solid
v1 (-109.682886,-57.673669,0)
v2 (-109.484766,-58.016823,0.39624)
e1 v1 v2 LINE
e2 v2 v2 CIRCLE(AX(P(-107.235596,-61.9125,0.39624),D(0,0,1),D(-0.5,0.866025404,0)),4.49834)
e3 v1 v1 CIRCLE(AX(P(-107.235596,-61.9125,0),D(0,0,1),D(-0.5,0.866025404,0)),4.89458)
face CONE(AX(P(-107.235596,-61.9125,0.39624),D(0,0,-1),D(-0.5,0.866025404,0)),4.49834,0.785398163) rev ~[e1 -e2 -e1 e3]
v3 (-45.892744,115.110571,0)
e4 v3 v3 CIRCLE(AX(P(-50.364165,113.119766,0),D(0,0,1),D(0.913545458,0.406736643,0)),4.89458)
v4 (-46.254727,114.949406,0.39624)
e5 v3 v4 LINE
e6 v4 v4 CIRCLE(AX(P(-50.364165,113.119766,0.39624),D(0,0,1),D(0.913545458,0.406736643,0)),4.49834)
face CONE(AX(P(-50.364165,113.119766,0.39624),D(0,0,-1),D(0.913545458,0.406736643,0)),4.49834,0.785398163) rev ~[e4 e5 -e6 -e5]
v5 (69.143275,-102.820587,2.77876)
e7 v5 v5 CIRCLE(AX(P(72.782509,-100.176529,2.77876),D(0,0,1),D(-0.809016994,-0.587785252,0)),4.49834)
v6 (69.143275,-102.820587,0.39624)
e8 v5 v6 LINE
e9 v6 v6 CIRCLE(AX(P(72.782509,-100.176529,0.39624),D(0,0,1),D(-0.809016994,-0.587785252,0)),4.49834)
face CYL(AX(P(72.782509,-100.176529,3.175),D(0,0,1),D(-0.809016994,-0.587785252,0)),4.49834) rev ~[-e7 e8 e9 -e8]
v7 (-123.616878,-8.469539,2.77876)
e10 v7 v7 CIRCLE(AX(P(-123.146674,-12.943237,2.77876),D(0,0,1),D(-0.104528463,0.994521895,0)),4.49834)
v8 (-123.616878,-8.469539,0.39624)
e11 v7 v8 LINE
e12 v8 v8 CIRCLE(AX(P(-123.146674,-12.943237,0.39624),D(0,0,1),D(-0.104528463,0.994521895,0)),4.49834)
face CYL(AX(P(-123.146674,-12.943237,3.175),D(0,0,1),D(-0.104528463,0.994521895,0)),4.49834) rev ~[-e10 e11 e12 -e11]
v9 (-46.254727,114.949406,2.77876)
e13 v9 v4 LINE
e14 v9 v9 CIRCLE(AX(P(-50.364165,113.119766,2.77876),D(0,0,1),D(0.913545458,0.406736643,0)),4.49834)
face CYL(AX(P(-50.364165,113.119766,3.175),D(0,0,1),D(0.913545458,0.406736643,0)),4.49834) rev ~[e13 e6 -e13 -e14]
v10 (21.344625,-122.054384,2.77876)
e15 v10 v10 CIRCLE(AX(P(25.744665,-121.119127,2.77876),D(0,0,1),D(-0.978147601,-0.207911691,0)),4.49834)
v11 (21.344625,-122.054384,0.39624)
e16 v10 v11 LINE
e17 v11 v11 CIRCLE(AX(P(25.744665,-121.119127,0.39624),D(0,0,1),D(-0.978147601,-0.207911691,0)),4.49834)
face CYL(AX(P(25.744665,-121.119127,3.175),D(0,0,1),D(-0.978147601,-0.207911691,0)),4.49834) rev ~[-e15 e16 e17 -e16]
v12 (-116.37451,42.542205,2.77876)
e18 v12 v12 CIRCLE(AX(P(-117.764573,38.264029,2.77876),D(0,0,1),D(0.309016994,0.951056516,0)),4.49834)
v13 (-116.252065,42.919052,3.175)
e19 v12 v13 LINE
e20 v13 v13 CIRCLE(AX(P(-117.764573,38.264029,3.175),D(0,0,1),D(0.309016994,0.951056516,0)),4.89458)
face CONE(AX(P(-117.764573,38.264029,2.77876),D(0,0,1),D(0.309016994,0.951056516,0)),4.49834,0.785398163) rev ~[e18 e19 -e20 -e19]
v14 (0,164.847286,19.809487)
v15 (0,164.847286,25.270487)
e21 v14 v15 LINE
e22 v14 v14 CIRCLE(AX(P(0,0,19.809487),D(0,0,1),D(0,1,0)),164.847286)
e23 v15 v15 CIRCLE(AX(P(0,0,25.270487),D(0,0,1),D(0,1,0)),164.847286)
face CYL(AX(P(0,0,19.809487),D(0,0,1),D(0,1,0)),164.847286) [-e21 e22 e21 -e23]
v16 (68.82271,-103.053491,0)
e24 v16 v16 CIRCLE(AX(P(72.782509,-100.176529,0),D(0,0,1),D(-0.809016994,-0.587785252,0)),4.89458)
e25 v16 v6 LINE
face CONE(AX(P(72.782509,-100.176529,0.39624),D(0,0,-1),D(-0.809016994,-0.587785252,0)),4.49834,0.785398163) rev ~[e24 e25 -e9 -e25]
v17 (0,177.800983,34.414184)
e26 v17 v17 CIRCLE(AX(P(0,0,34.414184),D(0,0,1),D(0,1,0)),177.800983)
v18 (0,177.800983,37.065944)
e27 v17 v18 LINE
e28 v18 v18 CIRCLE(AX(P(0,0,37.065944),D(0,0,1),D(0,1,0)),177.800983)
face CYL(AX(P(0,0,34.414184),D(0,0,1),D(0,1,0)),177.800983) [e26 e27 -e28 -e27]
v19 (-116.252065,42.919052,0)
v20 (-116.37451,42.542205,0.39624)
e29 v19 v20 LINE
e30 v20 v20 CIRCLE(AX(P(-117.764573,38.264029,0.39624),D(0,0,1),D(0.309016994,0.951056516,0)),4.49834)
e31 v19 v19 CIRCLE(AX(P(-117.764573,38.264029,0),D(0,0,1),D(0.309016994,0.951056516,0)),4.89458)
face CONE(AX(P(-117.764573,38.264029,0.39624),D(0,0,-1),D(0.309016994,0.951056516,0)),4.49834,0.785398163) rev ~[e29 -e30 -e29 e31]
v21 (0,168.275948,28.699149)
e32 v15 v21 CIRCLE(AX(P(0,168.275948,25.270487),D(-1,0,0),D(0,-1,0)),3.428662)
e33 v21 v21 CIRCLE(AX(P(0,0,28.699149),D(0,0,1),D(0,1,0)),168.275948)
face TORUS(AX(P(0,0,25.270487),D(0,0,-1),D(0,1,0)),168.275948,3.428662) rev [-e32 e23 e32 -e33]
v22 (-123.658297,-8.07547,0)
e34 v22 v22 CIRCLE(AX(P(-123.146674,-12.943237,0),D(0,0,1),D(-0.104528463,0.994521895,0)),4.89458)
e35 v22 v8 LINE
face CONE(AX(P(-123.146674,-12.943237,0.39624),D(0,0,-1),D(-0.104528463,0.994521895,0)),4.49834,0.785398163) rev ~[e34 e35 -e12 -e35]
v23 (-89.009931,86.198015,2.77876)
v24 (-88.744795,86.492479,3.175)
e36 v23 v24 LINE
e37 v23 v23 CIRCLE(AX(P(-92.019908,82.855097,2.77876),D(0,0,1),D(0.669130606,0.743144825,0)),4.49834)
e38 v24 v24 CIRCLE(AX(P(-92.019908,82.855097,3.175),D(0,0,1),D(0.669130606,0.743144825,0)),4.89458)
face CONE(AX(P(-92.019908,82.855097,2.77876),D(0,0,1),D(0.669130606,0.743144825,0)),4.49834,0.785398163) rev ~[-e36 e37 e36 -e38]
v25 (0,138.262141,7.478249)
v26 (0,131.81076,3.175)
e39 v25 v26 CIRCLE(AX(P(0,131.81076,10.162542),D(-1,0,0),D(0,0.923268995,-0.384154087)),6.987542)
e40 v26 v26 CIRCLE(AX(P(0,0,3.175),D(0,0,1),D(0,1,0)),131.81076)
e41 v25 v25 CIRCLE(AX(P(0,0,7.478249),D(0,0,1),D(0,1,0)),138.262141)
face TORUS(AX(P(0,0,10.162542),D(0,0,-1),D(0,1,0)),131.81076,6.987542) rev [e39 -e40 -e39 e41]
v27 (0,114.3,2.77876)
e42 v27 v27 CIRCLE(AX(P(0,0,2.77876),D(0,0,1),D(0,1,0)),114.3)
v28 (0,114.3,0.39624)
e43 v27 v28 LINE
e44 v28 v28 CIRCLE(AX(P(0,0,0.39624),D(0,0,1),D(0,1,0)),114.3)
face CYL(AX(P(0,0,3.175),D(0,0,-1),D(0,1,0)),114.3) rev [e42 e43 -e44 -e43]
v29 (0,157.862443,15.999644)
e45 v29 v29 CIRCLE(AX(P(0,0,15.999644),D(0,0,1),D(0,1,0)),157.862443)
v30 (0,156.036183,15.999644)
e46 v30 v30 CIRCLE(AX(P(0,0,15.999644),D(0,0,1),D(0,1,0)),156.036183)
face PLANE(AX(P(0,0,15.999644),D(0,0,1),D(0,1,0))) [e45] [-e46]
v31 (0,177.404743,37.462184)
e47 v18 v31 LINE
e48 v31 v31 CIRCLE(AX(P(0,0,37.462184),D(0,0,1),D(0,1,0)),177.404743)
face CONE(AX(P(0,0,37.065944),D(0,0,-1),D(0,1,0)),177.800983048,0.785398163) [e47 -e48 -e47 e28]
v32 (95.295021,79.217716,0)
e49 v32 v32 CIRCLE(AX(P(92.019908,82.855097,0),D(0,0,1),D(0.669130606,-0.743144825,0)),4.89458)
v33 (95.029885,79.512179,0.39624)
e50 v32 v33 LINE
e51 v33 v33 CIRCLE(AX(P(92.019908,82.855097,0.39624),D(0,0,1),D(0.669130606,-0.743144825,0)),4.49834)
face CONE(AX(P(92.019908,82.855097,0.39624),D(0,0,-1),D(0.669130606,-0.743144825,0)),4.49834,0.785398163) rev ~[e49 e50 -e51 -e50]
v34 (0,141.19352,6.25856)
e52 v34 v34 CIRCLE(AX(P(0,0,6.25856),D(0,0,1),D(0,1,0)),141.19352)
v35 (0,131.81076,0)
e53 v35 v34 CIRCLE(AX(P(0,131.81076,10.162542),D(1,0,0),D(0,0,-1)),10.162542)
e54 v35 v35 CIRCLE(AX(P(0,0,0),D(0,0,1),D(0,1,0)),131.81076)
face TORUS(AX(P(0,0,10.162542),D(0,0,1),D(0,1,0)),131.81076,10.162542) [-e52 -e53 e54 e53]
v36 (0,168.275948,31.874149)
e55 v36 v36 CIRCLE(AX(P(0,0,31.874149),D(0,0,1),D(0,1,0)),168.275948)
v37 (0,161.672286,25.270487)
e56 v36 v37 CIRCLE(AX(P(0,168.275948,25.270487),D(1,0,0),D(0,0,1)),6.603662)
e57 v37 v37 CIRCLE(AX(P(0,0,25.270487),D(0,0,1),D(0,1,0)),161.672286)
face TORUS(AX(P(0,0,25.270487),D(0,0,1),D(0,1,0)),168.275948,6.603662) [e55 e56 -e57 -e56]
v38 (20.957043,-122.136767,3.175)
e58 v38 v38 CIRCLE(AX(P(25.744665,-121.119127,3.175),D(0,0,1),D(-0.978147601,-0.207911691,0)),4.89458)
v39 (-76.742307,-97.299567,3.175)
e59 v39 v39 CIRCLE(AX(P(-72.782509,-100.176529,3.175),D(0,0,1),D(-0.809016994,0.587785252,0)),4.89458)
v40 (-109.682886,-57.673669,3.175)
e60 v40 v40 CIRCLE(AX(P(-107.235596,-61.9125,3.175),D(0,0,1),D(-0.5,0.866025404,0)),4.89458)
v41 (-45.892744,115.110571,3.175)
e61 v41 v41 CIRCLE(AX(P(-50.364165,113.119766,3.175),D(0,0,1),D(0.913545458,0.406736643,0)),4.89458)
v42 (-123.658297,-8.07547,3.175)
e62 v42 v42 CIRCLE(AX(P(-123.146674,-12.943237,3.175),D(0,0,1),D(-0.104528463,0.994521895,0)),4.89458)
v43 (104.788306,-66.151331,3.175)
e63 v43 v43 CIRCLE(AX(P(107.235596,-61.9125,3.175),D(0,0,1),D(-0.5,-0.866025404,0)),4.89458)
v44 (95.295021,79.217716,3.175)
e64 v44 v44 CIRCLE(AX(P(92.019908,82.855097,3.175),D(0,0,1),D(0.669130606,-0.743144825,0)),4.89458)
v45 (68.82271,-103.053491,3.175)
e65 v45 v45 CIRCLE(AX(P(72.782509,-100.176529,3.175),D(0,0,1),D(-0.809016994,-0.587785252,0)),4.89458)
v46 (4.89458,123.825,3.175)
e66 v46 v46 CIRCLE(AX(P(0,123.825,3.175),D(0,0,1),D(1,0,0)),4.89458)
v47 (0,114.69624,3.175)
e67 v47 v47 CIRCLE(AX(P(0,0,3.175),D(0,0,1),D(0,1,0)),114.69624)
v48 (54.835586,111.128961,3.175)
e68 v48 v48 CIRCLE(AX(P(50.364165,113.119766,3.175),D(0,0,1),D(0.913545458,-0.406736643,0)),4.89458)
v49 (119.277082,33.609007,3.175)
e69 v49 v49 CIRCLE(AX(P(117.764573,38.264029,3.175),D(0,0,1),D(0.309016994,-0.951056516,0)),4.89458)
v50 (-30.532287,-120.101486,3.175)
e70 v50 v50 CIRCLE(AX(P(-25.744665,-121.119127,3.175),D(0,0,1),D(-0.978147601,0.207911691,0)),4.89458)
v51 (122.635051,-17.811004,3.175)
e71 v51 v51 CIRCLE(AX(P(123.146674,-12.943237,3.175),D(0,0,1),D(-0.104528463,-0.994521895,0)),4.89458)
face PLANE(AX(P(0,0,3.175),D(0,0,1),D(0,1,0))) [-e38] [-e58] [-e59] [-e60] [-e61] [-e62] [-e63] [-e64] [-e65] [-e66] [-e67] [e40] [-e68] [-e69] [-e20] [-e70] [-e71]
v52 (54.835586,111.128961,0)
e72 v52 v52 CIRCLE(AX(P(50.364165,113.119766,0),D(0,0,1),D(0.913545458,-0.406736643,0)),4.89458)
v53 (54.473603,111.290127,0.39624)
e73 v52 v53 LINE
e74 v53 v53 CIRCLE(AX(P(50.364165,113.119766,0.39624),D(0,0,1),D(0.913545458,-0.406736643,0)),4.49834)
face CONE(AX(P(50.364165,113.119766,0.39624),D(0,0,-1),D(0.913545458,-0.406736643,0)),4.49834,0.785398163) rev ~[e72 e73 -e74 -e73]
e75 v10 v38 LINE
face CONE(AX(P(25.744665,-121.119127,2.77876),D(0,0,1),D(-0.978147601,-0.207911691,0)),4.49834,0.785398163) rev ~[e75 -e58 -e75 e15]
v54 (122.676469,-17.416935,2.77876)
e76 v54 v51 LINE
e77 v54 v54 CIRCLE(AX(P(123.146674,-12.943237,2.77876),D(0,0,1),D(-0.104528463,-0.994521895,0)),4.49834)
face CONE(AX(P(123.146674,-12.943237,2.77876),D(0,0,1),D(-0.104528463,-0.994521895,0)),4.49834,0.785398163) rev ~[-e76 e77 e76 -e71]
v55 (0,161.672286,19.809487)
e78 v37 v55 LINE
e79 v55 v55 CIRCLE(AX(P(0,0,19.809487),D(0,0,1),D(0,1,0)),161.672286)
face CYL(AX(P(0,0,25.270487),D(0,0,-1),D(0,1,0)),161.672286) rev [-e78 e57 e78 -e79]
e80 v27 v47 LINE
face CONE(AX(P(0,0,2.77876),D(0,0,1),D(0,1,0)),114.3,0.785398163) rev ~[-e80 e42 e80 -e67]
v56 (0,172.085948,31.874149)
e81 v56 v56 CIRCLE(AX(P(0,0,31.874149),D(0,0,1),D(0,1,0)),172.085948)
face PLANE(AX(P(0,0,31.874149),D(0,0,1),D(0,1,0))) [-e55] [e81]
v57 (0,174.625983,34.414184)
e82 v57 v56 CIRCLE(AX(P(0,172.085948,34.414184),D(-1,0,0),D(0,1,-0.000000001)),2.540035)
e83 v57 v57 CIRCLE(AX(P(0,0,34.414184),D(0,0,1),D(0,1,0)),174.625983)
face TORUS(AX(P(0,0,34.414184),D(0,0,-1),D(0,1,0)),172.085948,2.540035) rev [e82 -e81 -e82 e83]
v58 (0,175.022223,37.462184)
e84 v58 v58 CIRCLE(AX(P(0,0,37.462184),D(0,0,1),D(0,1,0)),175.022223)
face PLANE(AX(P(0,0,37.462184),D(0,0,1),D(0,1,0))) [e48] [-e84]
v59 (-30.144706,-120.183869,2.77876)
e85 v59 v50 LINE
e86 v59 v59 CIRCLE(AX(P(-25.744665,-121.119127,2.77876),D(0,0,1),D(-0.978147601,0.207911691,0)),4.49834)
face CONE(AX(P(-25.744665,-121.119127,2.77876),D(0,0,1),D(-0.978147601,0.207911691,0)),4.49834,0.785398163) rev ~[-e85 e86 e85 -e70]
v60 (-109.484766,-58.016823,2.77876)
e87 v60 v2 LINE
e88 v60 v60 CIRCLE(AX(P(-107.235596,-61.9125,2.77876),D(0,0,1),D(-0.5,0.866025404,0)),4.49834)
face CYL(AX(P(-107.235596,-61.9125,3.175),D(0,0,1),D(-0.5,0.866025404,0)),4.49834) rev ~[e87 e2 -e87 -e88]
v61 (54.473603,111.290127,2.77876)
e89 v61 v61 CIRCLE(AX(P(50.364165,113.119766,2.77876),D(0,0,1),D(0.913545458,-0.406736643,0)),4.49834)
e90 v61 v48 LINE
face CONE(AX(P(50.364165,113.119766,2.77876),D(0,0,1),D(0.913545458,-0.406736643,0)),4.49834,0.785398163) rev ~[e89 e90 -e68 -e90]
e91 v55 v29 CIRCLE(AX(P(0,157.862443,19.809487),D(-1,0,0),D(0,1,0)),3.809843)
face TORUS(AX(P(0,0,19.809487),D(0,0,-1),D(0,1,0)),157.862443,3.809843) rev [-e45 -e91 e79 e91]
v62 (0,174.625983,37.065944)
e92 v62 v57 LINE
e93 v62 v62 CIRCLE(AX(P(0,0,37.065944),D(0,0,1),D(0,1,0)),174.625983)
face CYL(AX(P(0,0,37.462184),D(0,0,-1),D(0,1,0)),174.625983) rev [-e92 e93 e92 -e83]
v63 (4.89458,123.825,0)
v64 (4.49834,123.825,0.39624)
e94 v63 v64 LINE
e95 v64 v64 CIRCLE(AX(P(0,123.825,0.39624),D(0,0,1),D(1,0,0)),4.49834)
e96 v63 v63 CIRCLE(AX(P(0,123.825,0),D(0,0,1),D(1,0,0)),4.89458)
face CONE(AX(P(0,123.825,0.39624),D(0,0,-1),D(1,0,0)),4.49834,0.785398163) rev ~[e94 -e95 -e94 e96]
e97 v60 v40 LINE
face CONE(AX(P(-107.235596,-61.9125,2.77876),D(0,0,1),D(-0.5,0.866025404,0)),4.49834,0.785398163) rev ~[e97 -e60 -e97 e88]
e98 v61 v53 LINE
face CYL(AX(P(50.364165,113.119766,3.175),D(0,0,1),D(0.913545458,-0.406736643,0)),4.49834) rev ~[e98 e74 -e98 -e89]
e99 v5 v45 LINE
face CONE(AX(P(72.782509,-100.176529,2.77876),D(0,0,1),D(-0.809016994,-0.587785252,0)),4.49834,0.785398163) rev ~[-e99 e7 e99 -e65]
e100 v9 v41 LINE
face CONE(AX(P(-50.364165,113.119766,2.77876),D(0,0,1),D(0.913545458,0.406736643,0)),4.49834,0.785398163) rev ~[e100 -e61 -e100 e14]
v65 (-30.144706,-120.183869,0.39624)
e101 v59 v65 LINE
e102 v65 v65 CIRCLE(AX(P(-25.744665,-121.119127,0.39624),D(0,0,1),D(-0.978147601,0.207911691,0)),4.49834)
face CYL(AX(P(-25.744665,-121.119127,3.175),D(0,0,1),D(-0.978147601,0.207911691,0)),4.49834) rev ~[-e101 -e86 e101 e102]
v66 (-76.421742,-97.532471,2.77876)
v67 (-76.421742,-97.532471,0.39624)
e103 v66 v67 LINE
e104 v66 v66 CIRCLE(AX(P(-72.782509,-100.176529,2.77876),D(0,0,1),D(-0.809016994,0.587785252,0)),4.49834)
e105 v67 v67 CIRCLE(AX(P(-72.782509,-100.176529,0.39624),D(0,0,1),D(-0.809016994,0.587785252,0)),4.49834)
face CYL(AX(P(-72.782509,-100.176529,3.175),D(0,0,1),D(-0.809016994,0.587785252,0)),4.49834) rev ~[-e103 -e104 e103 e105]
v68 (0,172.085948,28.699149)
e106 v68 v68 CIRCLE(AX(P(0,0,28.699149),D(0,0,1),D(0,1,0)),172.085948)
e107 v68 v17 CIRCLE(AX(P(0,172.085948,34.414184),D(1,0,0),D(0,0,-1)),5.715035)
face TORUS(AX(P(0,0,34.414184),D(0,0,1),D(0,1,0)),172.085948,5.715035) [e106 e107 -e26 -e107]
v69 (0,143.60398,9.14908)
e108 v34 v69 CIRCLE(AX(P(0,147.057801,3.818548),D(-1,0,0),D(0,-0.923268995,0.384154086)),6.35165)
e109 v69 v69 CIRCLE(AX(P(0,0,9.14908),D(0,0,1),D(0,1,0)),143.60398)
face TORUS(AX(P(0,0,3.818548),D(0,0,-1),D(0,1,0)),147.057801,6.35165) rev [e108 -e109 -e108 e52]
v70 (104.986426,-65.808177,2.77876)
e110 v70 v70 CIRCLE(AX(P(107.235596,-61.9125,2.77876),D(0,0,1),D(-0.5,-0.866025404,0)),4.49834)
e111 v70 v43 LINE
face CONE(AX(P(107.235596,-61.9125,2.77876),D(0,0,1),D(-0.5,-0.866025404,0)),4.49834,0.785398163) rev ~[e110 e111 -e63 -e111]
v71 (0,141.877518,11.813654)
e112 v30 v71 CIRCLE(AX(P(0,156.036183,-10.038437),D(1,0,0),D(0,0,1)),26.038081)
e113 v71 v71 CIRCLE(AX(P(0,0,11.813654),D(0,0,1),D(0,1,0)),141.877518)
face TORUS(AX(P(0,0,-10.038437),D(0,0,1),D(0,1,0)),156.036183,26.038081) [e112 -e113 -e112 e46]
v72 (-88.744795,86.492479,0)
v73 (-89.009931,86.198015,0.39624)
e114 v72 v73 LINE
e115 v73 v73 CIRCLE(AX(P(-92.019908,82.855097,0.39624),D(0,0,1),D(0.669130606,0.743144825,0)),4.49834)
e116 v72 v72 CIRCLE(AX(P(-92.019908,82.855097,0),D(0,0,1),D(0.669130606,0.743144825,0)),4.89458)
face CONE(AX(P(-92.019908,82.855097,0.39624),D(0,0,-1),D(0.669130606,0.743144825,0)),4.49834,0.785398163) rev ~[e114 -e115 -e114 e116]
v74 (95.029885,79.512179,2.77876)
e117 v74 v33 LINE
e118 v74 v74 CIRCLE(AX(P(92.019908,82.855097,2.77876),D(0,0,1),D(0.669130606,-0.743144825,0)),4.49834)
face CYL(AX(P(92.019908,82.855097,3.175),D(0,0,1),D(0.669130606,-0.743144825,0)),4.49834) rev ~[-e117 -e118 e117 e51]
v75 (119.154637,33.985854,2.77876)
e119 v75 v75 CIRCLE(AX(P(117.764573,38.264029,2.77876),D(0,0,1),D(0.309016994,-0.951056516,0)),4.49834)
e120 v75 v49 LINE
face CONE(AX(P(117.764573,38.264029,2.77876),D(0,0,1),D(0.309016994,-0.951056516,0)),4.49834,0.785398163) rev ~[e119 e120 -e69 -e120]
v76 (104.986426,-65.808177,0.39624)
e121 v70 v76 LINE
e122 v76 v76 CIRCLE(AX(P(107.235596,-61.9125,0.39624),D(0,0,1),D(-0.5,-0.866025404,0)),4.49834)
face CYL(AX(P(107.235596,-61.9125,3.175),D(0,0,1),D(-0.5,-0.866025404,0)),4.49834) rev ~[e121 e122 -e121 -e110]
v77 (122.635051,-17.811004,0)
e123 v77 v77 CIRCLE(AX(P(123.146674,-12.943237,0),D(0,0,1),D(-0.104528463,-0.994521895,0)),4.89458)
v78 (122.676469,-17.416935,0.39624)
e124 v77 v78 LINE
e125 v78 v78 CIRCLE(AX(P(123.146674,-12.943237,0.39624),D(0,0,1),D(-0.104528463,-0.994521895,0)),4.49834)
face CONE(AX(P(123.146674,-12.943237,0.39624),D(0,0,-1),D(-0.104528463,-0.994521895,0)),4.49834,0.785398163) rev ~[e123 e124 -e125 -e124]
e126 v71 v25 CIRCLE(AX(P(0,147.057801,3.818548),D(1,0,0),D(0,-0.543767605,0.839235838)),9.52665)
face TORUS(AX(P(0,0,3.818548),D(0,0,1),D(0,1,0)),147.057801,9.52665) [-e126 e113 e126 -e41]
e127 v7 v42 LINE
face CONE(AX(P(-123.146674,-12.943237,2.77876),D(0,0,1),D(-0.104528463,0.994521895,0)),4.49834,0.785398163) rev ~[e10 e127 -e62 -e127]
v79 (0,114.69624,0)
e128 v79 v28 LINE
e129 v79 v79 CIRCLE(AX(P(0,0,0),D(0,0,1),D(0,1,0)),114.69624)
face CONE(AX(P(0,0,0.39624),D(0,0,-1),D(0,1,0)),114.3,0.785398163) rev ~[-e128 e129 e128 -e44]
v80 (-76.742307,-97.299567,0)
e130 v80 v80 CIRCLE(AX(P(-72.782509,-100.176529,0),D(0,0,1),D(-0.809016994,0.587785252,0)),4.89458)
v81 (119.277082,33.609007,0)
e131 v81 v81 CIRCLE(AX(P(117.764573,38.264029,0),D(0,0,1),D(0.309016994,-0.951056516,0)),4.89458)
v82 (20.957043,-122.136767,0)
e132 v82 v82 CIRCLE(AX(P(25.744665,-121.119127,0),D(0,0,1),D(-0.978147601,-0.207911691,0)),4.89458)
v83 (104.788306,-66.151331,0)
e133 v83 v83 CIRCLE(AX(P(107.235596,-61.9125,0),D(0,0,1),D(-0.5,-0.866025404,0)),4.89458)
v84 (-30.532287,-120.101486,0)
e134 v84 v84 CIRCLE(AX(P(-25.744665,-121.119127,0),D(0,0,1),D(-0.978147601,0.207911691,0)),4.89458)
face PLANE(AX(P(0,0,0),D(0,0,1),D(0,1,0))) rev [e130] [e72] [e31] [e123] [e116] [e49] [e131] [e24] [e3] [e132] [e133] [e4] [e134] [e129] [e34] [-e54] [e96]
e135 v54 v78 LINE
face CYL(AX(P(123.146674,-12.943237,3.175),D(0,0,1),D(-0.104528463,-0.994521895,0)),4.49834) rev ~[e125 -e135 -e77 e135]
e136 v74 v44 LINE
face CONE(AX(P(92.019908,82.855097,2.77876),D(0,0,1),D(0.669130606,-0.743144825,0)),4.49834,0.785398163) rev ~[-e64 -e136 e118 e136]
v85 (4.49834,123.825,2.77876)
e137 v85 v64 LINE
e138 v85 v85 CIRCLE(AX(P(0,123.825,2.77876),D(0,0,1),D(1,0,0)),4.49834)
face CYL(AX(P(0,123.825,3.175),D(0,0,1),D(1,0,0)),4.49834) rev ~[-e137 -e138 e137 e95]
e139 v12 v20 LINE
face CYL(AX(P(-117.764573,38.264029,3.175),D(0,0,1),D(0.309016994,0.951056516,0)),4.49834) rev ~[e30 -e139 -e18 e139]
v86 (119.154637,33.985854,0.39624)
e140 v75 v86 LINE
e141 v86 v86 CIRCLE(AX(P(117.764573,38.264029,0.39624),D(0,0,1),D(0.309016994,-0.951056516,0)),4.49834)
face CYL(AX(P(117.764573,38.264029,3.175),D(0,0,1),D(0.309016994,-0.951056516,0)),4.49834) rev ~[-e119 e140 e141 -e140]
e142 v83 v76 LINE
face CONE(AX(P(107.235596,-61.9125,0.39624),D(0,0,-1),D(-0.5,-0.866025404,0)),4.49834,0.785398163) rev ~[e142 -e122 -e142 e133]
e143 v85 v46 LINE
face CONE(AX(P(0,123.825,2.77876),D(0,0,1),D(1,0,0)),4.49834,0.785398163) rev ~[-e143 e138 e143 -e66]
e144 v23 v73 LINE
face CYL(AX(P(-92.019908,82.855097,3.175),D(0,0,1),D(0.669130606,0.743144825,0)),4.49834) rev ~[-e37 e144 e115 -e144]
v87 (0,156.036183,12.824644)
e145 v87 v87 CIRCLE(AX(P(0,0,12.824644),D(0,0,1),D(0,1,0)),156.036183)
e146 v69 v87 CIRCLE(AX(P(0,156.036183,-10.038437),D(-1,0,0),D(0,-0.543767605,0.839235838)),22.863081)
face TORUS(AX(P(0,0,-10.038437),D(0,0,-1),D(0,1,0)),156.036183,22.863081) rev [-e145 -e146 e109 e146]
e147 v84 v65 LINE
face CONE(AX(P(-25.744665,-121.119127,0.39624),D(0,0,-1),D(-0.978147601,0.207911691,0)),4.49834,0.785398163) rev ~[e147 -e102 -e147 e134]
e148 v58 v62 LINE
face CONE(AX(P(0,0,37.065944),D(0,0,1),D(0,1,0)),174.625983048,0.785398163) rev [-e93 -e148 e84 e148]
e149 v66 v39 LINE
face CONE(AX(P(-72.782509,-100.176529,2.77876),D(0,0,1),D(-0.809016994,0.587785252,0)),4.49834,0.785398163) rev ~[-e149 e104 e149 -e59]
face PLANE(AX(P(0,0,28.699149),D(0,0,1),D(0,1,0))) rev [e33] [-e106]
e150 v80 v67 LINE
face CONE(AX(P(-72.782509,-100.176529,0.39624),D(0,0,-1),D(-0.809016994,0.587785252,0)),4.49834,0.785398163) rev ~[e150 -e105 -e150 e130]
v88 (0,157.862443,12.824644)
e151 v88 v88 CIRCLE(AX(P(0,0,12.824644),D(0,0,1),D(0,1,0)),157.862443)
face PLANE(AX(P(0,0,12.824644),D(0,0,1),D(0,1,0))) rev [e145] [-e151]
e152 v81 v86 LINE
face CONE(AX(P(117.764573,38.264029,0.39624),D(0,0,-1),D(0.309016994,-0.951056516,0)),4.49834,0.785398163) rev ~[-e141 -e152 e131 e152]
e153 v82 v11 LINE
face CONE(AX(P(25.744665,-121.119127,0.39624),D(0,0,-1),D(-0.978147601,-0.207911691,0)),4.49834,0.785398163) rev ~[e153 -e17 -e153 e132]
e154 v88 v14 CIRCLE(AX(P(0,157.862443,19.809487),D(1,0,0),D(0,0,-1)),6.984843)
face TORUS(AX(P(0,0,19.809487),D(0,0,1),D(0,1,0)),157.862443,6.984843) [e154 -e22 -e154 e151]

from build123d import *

# Parameters (mm, degrees)
SKETCH2_R                   = 4.49834
MOUNTING_HOLE_DEPTH         = 4.175
MOUNTING_HOLE_PATTERN_COUNT = 15
EDGE_CHAMFER_SIZE           = 0.39624


with BuildPart() as part:
    # Sketch1 → Inner Rim (revolve)
    with BuildSketch(Plane(origin=(0, 0, 0), x_dir=(0, 0, -1), z_dir=(1, 0, 0))):
        with BuildLine():
            Line((0, 114.3), (0, 131.81076))
            ThreePointArc((0, 131.81076), (-1.708204623, 137.450036516), (-6.25856, 141.19352))
            ThreePointArc((-6.25856, 141.19352), (-7.886461195, 142.179734532), (-9.14908, 143.60398))
            ThreePointArc((-9.14908, 143.60398), (-11.886505839, 149.554103055), (-12.824644135, 156.036183055))
            Line((-12.824644135, 156.036183055), (-12.824644135, 157.862443055))
            ThreePointArc((-12.824644135, 157.862443055), (-14.870457346, 162.801473055), (-19.809487346, 164.847286266))
            Line((-19.809487346, 164.847286266), (-25.270487346, 164.847286266))
            ThreePointArc((-25.270487346, 164.847286266), (-27.694917346, 165.851518053), (-28.699149133, 168.275948053))
            Line((-28.699149133, 168.275948053), (-28.699149133, 172.085948053))
            ThreePointArc((-28.699149133, 172.085948053), (-30.373044128, 176.127088053), (-34.414184128, 177.800983048))
            Line((-34.414184128, 177.800983048), (-37.462184128, 177.800983048))
            Line((-37.462184128, 177.800983048), (-37.462184128, 174.625983048))
            Line((-37.462184128, 174.625983048), (-34.414184128, 174.625983048))
            ThreePointArc((-34.414184128, 174.625983048), (-32.618108159, 173.882024022), (-31.874149133, 172.085948053))
            Line((-31.874149133, 172.085948053), (-31.874149133, 168.275948053))
            ThreePointArc((-31.874149133, 168.275948053), (-29.939981376, 163.606454022), (-25.270487346, 161.672286266))
            Line((-25.270487346, 161.672286266), (-19.809487346, 161.672286266))
            ThreePointArc((-19.809487346, 161.672286266), (-17.115521376, 160.556409025), (-15.999644135, 157.862443055))
            Line((-15.999644135, 157.862443055), (-15.999644135, 156.036183055))
            ThreePointArc((-15.999644135, 156.036183055), (-14.931226414, 148.653935506), (-11.813653785, 141.877517854))
            ThreePointArc((-11.813653785, 141.877517854), (-9.919889574, 139.741334641), (-7.478249224, 138.26214094))
            ThreePointArc((-7.478249224, 138.26214094), (-4.349524206, 135.68820342), (-3.175, 131.81076))
            Line((-3.175, 131.81076), (-3.175, 114.3))
            Line((-3.175, 114.3), (0, 114.3))
        make_face()
    revolve(axis=Axis((0, 0, -1.873109206), (0, 0, 1)))

    # Sketch2 → Mounting Hole (cut, through all)
    with BuildSketch(Plane.XY.offset(3.175)):
        with Locations((0, 123.825)):
            Circle(SKETCH2_R)
    mounting_hole = extrude(amount=-MOUNTING_HOLE_DEPTH, mode=Mode.SUBTRACT)

    # Mounting Hole Pattern: Mounting Hole ×15 about axis
    mounting_hole_pattern_axis = Axis((0, 0, 0), (0, 0, 1))
    for i in range(1, MOUNTING_HOLE_PATTERN_COUNT):
        add(mounting_hole.rotate(mounting_hole_pattern_axis, i * 360 / MOUNTING_HOLE_PATTERN_COUNT), mode=Mode.SUBTRACT)

    # Edge Chamfer
    edge_chamfer_edges = [part.edges().sort_by_distance(p)[0] for p in [
        (116.374509624, 42.542204898, 0),
        (116.374509624, 42.542204898, 3.175),
        (89.009931043, 86.198015427, 0),
        (89.009931043, 86.198015427, 3.175),
        (46.254726755, 114.949406004, 0),
        (46.254726755, 114.949406004, 3.175),
        (0, -114.3, 3.175),
        (0, -174.625983048, 37.462184128),
        (0, -177.800983048, 37.462184128),
        (0, -114.3, 0),
        (-4.49834, 123.825, 0),
        (-4.49834, 123.825, 3.175),
        (-54.473602903, 111.290126582, 0),
        (-54.473602903, 111.290126582, 3.175),
        (-95.029884987, 79.512179238, 0),
        (-95.029884987, 79.512179238, 3.175),
        (-119.154636637, 33.985853759, 0),
        (-119.154636637, 33.985853759, 3.175),
        (-122.676469127, -17.416934587, 0),
        (-122.676469127, -17.416934587, 3.175),
        (-104.986425624, -65.808176715, 0),
        (-104.986425624, -65.808176715, 3.175),
        (-69.143275359, -102.82058724, 0),
        (-69.143275359, -102.82058724, 3.175),
        (-21.344624637, -122.054384136, 0),
        (-21.344624637, -122.054384136, 3.175),
        (30.144705594, -120.183869186, 0),
        (30.144705594, -120.183869186, 3.175),
        (76.421742372, -97.532471417, 0),
        (76.421742372, -97.532471417, 3.175),
        (109.484765624, -58.016823285, 0),
        (109.484765624, -58.016823285, 3.175),
        (123.616878261, -8.469539341, 0),
        (123.616878261, -8.469539341, 3.175),
    ]]
    chamfer(edge_chamfer_edges, length=EDGE_CHAMFER_SIZE)


solid = part.part
